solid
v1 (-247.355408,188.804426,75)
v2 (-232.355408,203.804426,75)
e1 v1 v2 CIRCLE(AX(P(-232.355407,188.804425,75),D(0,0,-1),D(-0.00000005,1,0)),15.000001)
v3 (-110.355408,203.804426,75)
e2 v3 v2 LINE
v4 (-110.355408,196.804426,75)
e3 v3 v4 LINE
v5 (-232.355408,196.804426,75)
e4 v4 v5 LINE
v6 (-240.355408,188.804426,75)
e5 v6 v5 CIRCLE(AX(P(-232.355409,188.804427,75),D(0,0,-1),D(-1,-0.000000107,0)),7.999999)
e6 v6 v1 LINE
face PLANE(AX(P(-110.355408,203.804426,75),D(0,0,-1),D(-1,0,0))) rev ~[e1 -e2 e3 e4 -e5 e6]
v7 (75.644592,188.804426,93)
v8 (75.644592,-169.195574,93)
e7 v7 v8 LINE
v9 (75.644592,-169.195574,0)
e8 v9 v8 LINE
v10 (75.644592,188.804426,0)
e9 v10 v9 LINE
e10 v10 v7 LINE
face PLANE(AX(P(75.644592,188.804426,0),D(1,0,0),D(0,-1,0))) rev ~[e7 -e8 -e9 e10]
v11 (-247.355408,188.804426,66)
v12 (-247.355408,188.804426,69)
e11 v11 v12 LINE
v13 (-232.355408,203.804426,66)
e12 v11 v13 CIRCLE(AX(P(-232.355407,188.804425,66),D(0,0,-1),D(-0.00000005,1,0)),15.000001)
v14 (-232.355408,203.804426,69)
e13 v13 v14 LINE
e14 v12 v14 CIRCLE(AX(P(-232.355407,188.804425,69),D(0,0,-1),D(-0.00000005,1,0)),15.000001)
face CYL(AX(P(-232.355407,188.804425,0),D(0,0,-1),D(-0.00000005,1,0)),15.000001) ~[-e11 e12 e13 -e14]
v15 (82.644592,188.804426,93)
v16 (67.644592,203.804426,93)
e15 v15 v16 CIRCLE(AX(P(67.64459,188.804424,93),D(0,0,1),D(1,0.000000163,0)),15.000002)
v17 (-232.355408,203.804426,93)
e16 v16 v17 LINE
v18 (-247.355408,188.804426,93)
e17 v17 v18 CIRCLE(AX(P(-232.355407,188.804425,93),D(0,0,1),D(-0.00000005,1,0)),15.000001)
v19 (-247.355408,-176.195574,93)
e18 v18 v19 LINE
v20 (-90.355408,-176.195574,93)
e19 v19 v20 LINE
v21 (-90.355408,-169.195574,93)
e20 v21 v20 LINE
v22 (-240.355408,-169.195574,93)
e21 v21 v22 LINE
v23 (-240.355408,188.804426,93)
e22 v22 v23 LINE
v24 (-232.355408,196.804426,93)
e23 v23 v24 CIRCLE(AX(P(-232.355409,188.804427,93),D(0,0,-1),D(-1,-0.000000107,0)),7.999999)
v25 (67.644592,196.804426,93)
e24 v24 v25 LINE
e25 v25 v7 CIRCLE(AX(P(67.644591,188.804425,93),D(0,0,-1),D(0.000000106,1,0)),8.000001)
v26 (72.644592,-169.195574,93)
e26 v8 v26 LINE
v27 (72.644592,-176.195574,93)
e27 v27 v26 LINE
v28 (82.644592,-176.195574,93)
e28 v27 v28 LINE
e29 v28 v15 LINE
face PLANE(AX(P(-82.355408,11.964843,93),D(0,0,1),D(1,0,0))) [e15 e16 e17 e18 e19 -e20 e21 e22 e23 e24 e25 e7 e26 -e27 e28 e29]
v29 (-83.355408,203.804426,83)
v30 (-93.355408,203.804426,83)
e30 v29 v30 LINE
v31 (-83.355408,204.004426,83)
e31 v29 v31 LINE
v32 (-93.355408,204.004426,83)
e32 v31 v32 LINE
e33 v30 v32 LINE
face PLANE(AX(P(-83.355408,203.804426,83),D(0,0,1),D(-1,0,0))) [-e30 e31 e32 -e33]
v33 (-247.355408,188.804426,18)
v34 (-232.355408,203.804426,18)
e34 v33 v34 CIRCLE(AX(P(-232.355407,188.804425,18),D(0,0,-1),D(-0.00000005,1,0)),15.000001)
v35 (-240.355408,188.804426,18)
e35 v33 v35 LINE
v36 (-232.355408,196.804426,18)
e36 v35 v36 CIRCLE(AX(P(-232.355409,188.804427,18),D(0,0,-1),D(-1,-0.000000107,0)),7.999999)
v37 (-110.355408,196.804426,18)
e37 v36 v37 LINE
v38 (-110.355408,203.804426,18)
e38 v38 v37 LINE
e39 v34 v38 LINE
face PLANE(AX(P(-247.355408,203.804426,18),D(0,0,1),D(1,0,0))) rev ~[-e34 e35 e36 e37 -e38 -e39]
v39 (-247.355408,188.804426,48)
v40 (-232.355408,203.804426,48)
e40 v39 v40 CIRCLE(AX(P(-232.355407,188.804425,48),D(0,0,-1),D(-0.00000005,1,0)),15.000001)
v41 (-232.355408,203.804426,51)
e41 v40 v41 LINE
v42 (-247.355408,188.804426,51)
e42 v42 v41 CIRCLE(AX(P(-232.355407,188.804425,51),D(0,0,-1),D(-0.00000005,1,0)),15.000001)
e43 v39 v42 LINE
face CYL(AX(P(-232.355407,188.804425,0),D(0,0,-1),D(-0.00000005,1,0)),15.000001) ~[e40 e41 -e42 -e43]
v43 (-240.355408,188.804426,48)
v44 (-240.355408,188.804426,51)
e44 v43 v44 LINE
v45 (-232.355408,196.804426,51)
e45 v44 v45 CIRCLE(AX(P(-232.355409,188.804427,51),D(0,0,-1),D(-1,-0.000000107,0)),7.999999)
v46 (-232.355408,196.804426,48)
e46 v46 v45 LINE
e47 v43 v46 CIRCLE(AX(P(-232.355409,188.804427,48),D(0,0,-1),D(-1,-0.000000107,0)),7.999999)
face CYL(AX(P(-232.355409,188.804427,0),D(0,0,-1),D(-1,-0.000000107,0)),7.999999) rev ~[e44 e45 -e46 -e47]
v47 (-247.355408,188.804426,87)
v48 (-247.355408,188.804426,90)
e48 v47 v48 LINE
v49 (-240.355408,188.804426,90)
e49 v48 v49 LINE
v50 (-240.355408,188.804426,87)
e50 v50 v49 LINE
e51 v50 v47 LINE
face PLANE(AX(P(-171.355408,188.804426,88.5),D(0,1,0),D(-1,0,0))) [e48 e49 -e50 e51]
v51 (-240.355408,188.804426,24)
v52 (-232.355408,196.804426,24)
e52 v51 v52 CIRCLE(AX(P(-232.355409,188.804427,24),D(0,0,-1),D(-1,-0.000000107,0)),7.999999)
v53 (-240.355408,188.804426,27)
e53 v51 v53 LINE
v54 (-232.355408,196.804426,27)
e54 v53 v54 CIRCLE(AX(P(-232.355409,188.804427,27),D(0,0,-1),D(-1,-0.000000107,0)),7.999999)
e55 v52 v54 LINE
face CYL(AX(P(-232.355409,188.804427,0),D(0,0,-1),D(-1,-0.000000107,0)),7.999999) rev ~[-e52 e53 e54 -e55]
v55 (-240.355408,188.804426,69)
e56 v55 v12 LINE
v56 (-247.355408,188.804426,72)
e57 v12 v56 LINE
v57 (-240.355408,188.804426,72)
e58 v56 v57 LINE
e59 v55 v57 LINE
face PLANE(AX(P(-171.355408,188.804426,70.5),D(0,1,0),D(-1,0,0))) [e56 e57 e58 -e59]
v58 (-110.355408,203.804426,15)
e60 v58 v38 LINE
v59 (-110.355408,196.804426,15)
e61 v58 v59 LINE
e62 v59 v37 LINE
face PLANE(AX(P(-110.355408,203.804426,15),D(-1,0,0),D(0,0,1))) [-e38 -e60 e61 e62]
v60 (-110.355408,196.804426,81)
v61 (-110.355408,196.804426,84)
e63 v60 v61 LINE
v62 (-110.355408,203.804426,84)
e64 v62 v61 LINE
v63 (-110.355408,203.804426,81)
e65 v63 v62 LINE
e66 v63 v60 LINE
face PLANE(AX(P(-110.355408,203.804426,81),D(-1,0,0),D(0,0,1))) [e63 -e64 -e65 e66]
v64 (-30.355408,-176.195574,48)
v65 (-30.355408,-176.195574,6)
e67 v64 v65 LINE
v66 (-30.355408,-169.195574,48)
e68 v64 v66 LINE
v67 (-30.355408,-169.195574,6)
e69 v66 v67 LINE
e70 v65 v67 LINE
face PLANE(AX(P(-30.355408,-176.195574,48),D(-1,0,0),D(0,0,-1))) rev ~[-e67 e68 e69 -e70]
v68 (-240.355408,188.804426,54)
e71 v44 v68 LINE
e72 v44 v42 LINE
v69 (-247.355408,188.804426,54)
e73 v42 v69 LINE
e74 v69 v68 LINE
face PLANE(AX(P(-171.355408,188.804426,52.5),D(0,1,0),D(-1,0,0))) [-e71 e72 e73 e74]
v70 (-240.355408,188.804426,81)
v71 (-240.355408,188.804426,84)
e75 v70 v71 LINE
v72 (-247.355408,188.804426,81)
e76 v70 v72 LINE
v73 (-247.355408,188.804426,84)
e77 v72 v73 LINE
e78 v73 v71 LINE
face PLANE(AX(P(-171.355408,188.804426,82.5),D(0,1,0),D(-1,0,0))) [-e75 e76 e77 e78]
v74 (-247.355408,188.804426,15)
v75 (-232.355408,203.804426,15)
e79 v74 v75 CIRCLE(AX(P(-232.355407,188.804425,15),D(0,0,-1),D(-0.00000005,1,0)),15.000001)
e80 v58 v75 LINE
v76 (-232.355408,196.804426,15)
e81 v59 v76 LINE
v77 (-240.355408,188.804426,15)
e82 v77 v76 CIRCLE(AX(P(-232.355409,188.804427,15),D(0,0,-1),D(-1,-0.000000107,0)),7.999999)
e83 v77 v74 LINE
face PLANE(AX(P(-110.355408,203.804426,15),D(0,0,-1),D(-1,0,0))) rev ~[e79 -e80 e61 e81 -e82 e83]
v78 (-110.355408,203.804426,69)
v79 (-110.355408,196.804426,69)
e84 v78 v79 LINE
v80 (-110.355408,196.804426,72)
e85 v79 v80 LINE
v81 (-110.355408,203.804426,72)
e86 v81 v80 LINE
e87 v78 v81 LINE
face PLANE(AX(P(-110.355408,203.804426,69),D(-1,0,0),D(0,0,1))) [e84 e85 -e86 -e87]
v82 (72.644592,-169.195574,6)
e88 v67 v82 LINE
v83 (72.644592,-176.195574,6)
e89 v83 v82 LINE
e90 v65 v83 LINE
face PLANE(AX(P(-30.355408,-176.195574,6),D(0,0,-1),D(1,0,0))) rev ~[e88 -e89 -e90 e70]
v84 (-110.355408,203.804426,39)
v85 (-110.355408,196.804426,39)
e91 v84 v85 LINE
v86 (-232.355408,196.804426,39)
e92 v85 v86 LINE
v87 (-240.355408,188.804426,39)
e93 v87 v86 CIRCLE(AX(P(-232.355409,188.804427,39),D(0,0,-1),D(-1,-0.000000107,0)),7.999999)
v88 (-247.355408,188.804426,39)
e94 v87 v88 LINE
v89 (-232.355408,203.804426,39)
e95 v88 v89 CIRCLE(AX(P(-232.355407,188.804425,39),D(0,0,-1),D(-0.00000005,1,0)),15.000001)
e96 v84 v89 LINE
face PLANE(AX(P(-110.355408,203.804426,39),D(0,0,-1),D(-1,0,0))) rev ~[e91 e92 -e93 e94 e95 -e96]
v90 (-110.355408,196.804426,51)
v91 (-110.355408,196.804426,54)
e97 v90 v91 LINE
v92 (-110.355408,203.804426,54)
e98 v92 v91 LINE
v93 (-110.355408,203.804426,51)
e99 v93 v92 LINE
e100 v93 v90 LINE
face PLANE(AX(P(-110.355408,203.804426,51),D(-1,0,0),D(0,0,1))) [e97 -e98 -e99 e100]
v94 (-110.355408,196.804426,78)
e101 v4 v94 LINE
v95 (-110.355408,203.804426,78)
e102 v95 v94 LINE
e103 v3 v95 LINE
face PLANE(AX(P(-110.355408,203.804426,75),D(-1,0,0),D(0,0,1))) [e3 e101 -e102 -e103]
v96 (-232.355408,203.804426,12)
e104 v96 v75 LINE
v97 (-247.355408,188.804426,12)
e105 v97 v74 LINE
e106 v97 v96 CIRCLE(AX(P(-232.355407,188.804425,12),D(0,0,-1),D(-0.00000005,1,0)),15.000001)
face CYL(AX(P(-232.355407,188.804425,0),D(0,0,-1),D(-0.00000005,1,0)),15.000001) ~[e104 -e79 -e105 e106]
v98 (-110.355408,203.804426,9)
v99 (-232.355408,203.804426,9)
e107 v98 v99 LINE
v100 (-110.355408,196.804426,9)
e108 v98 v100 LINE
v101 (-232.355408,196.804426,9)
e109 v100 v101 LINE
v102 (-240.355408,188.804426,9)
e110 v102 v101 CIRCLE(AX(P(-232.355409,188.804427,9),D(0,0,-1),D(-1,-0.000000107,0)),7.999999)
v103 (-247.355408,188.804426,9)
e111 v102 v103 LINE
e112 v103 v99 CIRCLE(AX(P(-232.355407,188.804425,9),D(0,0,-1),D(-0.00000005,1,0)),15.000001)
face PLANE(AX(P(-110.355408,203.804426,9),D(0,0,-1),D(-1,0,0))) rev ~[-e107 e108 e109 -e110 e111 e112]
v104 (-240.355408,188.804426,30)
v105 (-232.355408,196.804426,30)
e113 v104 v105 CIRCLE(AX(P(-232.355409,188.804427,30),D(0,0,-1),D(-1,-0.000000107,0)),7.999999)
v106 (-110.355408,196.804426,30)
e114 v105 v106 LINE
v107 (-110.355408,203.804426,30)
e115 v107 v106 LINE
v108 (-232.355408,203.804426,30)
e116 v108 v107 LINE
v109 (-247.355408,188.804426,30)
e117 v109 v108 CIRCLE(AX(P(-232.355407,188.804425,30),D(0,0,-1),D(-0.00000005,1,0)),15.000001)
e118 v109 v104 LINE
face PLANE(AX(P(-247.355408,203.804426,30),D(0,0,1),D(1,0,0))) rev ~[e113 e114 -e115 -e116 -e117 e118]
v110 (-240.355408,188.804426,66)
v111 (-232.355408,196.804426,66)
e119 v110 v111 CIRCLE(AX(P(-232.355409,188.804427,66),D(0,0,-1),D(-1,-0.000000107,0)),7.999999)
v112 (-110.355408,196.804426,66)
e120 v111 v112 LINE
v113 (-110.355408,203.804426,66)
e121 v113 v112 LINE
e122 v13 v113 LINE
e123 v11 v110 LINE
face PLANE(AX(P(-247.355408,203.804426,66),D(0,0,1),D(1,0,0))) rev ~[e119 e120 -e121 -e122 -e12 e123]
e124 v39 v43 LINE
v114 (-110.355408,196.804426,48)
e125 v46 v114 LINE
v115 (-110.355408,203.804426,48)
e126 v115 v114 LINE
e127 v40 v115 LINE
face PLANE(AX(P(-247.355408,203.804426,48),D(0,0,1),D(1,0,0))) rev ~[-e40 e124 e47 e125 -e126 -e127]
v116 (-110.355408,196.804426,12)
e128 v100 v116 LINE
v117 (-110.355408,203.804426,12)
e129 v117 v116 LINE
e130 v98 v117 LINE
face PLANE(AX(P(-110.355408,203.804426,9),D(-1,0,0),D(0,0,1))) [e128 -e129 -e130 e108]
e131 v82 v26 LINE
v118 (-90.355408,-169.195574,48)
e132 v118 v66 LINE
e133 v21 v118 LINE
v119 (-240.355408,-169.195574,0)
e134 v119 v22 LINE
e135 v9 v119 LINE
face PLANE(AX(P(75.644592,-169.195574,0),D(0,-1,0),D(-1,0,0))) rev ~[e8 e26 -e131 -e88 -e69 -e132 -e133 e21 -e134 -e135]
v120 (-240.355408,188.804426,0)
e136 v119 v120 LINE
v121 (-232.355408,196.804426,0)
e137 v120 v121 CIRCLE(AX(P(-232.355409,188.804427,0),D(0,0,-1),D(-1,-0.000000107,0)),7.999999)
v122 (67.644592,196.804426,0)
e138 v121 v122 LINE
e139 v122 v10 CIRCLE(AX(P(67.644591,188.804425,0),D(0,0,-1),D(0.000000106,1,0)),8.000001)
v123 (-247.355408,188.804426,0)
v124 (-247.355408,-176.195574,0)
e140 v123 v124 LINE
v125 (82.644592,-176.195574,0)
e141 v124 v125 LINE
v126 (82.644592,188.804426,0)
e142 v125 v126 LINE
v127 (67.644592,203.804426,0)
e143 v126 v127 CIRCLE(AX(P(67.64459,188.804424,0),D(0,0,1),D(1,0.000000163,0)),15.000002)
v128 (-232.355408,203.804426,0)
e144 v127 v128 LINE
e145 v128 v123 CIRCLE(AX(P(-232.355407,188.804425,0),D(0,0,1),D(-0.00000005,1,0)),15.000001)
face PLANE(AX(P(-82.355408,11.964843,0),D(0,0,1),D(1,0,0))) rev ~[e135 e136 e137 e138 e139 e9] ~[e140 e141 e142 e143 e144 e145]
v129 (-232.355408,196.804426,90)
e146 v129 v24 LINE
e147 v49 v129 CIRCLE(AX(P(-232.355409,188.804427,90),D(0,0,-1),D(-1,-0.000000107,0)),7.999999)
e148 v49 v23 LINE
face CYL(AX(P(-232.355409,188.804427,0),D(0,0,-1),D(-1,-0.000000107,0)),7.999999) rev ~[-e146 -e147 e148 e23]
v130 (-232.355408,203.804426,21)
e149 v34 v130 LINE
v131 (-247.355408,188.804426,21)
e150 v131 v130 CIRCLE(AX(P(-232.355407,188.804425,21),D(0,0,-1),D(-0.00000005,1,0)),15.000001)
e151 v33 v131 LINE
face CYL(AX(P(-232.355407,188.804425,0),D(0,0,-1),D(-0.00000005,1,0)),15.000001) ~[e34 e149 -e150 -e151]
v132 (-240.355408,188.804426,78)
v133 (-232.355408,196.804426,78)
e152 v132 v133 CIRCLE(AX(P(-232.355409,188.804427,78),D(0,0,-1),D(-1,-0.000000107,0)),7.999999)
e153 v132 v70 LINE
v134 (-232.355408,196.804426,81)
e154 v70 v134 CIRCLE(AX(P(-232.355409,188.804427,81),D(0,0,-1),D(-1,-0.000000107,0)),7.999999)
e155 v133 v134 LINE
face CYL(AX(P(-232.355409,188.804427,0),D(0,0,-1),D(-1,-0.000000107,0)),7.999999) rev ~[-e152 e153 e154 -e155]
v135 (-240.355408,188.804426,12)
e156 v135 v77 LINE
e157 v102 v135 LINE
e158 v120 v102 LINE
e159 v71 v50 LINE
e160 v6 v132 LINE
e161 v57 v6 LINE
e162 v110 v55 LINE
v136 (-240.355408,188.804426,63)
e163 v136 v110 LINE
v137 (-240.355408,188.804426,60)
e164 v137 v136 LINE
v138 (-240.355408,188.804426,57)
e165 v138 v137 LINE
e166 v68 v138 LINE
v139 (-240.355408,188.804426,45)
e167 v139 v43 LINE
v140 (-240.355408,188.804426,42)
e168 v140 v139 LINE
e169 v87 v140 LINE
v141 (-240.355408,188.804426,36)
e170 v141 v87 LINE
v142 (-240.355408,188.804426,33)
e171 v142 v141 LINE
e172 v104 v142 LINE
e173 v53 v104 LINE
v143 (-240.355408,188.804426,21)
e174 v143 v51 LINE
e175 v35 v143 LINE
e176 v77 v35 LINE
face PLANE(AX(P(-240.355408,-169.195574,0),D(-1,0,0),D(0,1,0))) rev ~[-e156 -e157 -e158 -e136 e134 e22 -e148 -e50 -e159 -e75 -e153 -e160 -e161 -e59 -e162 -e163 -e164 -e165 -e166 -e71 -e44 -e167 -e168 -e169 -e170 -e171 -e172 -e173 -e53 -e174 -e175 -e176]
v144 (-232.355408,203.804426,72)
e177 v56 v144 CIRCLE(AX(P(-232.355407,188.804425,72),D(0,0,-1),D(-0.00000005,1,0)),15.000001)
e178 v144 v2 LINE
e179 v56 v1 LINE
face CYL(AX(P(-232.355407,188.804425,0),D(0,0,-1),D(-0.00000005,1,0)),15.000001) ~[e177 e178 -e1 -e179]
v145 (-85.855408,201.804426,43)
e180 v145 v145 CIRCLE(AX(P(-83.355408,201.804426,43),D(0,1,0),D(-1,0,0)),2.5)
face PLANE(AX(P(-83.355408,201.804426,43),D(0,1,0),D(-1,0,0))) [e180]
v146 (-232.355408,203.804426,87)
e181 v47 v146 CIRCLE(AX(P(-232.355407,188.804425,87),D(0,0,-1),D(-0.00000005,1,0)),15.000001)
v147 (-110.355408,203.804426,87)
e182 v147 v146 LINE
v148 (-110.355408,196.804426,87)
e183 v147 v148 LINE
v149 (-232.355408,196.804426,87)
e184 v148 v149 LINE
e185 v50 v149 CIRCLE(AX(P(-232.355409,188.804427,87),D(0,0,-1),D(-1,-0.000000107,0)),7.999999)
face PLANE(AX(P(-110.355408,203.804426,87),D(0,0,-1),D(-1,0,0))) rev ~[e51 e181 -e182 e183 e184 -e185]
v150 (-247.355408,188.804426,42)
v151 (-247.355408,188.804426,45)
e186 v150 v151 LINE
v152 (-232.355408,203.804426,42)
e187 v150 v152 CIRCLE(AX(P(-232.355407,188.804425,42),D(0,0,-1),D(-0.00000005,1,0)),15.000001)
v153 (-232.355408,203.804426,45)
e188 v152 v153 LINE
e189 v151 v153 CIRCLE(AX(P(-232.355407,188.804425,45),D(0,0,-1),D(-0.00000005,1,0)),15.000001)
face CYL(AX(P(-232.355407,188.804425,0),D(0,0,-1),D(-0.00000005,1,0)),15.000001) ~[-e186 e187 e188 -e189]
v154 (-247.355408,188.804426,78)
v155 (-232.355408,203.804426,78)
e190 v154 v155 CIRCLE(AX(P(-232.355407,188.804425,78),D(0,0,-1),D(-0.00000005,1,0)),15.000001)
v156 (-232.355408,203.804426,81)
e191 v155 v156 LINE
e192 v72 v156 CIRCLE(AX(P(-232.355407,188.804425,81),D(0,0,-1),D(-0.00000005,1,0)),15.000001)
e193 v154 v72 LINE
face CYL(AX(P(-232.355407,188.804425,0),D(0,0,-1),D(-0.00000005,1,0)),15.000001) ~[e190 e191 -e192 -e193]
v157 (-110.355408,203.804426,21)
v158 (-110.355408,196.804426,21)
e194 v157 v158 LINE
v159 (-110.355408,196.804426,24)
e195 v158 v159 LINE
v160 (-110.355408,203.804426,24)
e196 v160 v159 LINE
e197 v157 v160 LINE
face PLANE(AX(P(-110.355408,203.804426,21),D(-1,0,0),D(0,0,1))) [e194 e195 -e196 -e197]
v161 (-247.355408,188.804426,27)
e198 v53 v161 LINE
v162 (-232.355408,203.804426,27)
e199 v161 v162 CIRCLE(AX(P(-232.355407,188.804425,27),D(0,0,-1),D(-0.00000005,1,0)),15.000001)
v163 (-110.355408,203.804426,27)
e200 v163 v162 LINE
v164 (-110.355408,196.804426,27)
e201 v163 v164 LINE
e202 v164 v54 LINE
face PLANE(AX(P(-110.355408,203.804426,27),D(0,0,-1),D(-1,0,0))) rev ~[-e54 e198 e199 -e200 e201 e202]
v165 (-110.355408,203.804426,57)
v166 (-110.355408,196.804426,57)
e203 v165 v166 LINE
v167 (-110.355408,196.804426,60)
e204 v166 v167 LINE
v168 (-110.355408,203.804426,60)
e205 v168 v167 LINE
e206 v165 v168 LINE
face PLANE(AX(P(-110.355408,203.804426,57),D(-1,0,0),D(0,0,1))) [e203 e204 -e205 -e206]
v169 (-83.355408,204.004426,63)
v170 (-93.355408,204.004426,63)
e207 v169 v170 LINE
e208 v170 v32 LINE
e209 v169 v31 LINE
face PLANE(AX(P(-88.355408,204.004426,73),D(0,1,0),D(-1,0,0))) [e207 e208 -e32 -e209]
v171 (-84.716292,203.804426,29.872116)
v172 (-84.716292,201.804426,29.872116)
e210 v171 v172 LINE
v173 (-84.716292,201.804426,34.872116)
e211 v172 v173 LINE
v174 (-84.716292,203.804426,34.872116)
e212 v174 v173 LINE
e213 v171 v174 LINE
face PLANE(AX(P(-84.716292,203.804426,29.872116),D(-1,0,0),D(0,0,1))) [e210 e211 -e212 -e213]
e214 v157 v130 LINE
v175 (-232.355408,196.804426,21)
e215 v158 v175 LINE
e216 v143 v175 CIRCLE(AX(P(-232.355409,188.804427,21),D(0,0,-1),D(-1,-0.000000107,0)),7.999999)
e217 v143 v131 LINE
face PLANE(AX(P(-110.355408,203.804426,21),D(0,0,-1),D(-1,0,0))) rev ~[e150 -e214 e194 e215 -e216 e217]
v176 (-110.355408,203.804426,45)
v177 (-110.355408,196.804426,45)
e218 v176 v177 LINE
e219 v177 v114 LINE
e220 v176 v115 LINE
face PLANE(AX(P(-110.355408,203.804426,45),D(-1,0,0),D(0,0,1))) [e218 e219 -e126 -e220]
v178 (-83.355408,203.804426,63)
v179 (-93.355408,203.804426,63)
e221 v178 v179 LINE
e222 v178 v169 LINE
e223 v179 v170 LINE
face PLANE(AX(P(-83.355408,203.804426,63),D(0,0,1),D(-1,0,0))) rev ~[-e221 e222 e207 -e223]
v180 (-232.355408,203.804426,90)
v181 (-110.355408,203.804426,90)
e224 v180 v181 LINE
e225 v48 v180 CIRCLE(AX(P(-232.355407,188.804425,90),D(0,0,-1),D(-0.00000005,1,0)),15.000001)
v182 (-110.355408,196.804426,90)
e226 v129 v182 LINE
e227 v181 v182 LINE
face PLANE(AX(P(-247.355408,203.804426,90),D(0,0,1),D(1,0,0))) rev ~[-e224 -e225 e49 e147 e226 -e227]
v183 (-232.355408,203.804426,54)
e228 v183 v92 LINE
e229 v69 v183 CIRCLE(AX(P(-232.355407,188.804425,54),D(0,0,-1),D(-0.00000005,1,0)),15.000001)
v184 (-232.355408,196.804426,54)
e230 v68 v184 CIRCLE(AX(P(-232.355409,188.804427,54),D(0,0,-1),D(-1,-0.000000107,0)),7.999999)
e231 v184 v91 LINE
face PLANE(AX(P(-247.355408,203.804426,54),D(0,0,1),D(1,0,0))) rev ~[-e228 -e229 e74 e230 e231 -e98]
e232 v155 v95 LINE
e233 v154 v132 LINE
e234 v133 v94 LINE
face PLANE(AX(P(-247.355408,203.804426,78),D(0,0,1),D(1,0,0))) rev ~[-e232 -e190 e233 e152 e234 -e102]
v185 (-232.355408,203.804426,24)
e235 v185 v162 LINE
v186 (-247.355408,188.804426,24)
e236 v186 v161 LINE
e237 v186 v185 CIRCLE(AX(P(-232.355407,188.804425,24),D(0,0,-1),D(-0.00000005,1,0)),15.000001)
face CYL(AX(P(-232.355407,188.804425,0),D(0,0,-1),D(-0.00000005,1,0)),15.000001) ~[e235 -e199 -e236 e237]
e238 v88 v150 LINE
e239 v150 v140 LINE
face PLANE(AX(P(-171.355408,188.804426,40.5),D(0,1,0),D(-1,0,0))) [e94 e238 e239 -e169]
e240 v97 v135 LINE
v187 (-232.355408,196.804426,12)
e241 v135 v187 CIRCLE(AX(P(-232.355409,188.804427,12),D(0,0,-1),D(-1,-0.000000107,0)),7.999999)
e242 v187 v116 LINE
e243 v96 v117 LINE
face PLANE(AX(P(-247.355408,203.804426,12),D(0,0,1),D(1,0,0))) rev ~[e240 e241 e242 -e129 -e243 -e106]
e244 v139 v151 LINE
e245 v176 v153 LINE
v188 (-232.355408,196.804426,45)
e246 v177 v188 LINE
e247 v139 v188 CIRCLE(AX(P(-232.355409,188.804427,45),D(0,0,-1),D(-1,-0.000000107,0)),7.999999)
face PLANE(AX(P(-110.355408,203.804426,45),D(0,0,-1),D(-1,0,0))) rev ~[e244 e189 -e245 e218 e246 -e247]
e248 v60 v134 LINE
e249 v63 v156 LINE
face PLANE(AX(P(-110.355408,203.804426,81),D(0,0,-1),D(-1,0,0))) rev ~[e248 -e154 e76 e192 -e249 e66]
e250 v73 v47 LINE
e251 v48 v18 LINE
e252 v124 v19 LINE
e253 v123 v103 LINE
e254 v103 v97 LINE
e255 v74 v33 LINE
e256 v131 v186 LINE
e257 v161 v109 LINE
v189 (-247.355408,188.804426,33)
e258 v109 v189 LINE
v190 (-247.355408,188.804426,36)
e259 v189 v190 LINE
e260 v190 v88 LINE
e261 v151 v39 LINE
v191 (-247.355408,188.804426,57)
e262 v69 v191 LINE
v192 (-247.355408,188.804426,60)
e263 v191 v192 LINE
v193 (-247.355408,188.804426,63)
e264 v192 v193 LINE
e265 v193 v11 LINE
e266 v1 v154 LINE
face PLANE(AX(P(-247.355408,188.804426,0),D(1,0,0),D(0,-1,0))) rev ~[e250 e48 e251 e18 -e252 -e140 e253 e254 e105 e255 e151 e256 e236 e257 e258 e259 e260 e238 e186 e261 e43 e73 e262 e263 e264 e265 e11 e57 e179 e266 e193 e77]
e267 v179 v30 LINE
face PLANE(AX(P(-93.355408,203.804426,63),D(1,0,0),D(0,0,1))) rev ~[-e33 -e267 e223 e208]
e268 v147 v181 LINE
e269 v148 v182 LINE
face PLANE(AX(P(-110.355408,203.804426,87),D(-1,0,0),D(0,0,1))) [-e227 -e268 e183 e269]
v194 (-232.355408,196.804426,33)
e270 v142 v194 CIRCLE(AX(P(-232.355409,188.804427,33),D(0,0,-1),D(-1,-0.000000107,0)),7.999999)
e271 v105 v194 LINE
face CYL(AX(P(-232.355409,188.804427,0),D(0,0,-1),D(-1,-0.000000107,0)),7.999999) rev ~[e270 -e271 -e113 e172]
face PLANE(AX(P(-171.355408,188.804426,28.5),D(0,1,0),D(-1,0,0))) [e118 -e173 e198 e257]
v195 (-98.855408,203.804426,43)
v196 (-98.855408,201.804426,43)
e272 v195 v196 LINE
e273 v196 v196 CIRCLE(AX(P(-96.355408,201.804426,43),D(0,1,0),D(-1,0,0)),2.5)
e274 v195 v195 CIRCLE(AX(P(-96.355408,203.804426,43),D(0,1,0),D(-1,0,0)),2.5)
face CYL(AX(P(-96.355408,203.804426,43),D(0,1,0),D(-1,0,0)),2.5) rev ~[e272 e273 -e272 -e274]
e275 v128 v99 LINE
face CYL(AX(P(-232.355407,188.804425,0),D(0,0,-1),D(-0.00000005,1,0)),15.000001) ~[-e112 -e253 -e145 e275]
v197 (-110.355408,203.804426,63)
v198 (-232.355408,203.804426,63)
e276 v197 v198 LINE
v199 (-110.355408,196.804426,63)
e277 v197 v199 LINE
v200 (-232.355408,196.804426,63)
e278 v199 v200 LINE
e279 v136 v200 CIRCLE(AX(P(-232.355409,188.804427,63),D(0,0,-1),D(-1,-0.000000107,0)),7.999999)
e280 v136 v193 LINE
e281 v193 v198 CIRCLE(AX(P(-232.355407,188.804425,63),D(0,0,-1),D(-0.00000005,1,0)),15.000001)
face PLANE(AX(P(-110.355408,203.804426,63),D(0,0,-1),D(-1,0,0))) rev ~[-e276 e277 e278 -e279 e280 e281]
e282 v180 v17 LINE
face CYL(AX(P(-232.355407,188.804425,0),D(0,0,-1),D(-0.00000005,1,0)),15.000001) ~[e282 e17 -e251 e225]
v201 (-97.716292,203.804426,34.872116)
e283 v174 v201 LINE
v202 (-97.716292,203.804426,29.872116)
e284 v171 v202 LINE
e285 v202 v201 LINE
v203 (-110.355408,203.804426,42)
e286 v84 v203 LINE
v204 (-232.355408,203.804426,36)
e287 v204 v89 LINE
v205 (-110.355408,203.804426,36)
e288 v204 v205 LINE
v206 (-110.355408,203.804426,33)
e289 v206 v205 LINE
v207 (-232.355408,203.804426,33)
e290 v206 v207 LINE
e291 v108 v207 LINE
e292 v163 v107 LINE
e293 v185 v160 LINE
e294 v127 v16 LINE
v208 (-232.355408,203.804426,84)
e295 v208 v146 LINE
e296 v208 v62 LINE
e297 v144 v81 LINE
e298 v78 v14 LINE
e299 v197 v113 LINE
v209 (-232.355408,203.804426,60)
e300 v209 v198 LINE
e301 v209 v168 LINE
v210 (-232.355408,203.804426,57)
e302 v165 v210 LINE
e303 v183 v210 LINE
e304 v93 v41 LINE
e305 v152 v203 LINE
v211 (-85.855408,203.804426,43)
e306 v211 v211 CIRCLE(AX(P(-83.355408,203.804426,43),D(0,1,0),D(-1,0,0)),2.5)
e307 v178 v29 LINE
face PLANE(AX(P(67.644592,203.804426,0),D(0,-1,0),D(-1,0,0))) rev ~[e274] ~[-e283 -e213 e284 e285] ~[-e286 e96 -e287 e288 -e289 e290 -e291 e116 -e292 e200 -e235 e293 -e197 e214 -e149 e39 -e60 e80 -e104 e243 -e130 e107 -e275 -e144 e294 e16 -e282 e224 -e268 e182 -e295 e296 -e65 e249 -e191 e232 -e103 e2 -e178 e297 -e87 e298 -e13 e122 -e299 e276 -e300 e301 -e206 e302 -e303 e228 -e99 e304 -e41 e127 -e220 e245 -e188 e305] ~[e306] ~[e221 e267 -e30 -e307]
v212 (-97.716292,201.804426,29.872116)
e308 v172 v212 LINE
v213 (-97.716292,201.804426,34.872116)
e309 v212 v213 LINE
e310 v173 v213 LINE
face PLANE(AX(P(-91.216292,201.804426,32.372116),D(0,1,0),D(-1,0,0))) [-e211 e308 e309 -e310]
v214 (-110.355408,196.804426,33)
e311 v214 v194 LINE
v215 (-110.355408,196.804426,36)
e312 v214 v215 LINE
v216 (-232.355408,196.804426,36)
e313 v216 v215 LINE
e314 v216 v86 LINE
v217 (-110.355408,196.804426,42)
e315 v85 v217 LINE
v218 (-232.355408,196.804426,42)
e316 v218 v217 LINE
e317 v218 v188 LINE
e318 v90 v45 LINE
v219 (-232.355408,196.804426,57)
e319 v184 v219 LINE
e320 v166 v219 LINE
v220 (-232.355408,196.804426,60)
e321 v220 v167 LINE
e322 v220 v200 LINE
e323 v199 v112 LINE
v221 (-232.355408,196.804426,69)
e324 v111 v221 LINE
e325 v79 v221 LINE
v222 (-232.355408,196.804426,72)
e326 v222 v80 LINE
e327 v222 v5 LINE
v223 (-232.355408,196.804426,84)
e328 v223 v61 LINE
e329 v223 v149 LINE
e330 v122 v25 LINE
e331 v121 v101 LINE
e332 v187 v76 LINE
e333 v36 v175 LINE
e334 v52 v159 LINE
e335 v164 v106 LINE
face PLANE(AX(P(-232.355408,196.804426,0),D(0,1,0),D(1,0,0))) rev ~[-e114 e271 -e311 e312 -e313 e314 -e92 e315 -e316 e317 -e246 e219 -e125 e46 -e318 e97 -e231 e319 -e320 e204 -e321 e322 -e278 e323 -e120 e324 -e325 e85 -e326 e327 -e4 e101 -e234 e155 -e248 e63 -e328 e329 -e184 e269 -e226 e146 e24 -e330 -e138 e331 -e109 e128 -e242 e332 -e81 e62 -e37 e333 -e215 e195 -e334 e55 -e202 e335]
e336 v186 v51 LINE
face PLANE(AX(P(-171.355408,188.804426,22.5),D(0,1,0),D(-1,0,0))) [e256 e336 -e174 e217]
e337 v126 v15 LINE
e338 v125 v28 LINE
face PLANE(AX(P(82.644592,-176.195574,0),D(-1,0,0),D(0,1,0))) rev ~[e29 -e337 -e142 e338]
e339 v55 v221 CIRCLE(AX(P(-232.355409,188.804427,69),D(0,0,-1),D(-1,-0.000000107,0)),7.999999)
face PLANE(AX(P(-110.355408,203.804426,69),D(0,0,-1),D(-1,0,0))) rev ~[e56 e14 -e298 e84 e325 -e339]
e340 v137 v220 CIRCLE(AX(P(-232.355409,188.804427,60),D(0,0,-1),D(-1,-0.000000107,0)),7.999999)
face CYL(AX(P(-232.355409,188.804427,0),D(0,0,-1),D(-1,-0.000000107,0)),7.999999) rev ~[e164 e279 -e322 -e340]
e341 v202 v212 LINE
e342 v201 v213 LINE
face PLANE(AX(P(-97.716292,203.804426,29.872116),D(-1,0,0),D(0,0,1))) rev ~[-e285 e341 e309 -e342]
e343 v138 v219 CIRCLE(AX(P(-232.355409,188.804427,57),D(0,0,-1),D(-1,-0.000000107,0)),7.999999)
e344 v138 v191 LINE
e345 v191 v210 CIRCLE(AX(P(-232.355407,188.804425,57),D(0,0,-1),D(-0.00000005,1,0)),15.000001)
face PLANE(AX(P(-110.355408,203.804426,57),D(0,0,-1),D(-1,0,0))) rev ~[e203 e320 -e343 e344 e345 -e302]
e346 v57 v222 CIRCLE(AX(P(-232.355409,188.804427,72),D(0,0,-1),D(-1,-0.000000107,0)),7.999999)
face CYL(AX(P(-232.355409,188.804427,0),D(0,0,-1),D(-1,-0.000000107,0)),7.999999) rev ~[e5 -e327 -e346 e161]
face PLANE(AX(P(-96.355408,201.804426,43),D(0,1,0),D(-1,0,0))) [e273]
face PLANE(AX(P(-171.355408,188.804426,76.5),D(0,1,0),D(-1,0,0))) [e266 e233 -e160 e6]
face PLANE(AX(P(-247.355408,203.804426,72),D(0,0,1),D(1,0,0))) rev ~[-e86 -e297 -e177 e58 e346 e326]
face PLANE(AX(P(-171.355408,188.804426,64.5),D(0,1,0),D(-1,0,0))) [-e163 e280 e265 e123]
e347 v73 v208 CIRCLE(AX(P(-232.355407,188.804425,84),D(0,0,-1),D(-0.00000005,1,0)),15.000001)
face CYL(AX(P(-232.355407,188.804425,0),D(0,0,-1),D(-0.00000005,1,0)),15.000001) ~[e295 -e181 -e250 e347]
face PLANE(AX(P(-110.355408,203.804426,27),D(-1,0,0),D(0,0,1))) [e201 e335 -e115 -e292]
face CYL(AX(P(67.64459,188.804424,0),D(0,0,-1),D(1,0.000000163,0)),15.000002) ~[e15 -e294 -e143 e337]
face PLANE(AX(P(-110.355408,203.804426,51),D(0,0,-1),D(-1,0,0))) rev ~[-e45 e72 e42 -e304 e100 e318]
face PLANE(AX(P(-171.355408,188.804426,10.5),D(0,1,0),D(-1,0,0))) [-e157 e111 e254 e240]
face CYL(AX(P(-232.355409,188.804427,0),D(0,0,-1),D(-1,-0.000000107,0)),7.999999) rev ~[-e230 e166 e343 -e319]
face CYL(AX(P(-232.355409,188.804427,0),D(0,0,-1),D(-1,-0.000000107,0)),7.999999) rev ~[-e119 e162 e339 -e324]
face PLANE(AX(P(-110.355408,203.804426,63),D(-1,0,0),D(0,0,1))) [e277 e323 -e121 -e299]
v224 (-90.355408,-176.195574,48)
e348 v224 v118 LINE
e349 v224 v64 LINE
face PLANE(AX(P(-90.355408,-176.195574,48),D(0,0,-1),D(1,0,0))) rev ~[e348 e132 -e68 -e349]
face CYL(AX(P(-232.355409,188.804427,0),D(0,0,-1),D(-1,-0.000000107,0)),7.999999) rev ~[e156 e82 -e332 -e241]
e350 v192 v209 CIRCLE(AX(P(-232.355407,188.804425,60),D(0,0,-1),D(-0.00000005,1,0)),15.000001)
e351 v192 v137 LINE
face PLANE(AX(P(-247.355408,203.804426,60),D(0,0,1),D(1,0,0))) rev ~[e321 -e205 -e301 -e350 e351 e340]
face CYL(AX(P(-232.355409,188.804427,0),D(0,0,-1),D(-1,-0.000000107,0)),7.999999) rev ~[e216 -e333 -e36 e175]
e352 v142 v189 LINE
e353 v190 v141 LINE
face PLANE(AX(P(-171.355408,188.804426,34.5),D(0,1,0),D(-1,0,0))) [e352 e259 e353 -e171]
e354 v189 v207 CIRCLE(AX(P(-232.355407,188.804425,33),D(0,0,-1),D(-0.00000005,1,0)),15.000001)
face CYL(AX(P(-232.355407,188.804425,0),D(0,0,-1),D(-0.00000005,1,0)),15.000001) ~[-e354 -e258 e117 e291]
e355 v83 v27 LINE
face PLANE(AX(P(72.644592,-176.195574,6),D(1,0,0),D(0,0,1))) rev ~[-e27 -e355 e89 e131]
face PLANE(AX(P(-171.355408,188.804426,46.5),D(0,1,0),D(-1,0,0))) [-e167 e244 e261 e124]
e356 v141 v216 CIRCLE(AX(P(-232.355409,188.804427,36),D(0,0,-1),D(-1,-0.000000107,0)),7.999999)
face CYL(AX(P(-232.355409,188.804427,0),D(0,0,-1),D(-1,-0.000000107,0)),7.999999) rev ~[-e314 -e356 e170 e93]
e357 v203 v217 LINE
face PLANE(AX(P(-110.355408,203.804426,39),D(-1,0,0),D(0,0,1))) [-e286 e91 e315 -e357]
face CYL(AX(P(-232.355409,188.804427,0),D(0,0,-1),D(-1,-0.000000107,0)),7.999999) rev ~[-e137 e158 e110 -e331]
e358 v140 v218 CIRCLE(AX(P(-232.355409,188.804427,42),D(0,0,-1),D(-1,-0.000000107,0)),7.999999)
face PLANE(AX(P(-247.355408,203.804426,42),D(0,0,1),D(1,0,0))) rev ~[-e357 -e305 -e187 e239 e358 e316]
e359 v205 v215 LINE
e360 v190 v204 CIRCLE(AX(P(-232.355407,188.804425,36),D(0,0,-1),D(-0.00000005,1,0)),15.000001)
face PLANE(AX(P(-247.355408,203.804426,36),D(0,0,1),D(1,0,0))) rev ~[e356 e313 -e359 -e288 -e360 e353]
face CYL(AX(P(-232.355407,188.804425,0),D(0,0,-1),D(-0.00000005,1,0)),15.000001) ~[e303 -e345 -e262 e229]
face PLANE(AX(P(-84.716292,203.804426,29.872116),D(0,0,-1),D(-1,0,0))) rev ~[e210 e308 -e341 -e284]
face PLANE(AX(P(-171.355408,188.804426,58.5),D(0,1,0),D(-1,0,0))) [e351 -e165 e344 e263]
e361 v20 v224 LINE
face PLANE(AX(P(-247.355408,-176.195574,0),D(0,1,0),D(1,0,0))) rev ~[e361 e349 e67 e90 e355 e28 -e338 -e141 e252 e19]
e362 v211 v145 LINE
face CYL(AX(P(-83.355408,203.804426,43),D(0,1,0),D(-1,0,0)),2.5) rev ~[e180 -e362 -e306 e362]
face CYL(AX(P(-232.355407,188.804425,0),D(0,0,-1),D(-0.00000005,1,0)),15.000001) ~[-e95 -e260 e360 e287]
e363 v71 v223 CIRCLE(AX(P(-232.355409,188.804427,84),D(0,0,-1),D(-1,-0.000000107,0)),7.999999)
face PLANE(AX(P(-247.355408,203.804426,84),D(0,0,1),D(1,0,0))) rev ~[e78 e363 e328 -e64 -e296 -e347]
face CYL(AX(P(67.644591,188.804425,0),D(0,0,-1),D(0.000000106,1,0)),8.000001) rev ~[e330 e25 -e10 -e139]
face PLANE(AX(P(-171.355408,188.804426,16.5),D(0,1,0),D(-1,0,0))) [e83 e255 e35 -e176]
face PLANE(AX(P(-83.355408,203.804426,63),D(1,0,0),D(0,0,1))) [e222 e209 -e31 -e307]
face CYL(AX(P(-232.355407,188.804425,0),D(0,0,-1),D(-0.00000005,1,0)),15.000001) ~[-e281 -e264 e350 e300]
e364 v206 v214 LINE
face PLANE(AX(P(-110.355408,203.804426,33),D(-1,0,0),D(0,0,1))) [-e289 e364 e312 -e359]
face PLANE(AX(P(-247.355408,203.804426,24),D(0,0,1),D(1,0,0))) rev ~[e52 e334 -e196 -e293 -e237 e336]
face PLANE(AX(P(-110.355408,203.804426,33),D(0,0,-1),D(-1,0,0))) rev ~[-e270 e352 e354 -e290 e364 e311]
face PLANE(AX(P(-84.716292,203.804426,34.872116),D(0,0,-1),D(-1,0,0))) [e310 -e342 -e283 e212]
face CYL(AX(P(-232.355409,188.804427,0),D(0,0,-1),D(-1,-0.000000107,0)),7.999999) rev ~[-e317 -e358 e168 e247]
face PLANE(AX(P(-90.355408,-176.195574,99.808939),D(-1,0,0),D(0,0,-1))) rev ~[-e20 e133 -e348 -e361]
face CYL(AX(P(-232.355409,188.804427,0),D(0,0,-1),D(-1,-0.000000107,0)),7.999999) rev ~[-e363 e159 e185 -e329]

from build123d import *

# Parameters (mm, degrees)
F1_DEPTH  = 93
F3_DEPTH  = 25
F4_W      = 122
F4_H      = 3
F4_W_2    = 15
F5_DEPTH  = 15
F6_DEPTH  = 15
F7_DEPTH  = 15
F8_DEPTH  = 15
F9_DEPTH  = 15
F10_DEPTH = 15
F11_DEPTH = 15
F12_DEPTH = 15
F13_DEPTH = 15
F14_DEPTH = 15
F15_DEPTH = 15
F16_DEPTH = 15
F17_DEPTH = 15
F18_DEPTH = 15
F19_W     = 10
F19_H     = 20
F20_DEPTH = 0.2
F21_R     = 2.5
F22_DEPTH = 2
F23_DEPTH = 2
F24_W     = 13
F24_H     = 5
F25_DEPTH = 2


with BuildPart() as f1:
    # F0 (on Top) → F1 (new body)
    with BuildSketch(Plane.XY):
        with BuildLine():
            Line((67.644592, 203.804426), (-232.355408, 203.804426))
            ThreePointArc((-232.355408, 203.804426), (-242.96201, 199.411027), (-247.355408, 188.804426))
            Line((-247.355408, 188.804426), (-247.355408, -176.195574))
            Line((-247.355408, -176.195574), (82.644592, -176.195574))
            Line((82.644592, -176.195574), (82.644592, 188.804426))
            ThreePointArc((82.644592, 188.804426), (78.251193, 199.411027), (67.644592, 203.804426))
        make_face()
        with BuildLine():
            ThreePointArc((-240.355408, 188.804426), (-238.012263, 194.46128), (-232.355408, 196.804426))
            Line((-232.355408, 196.804426), (67.644592, 196.804426))
            ThreePointArc((67.644592, 196.804426), (73.301446, 194.46128), (75.644592, 188.804426))
            Line((75.644592, 188.804426), (75.644592, -169.195574))
            Line((75.644592, -169.195574), (-240.355408, -169.195574))
            Line((-240.355408, -169.195574), (-240.355408, 188.804426))
        make_face(mode=Mode.SUBTRACT)
    extrude(amount=F1_DEPTH)

    # F2 (on face) → F3 (cut)
    with BuildSketch(Plane.XZ.offset(176.195574)):
        Polygon((-30.355408, 6), (72.644592, 6), (72.644592, 100.520082), (-30.355408, 100.520082), (-30.355408, 48), align=None)
        Polygon((-90.355408, 48), (-30.355408, 48), (-30.355408, 100.520082), (-90.355408, 99.808939), align=None)
    extrude(amount=-F3_DEPTH, mode=Mode.SUBTRACT)

    # F4 (on face) → F5 (cut)
    with BuildSketch(Plane(origin=(0, 203.804426, 0), x_dir=(-1, 0, 0), z_dir=(0, 1, 0))):
        with Locations((171.355408, 88.5)):
            Rectangle(F4_W, F4_H)
        with Locations((239.855408, 88.5)):
            Rectangle(F4_W_2, F4_H)
    extrude(amount=-F5_DEPTH, mode=Mode.SUBTRACT)

    # F4 (on face) → F6 (cut)
    with BuildSketch(Plane(origin=(0, 203.804426, 0), x_dir=(-1, 0, 0), z_dir=(0, 1, 0))):
        with Locations((171.355408, 82.5)):
            Rectangle(F4_W, F4_H)
        with Locations((239.855408, 82.5)):
            Rectangle(F4_W_2, F4_H)
    extrude(amount=-F6_DEPTH, mode=Mode.SUBTRACT)

    # F4 (on face) → F7 (cut)
    with BuildSketch(Plane(origin=(0, 203.804426, 0), x_dir=(-1, 0, 0), z_dir=(0, 1, 0))):
        with Locations((171.355408, 76.5)):
            Rectangle(F4_W, F4_H)
        with Locations((239.855408, 76.5)):
            Rectangle(F4_W_2, F4_H)
    extrude(amount=-F7_DEPTH, mode=Mode.SUBTRACT)

    # F4 (on face) → F8 (cut)
    with BuildSketch(Plane(origin=(0, 203.804426, 0), x_dir=(-1, 0, 0), z_dir=(0, 1, 0))):
        with Locations((171.355408, 70.5)):
            Rectangle(F4_W, F4_H)
        with Locations((239.855408, 70.5)):
            Rectangle(F4_W_2, F4_H)
    extrude(amount=-F8_DEPTH, mode=Mode.SUBTRACT)

    # F4 (on face) → F9 (cut)
    with BuildSketch(Plane(origin=(0, 203.804426, 0), x_dir=(-1, 0, 0), z_dir=(0, 1, 0))):
        with Locations((171.355408, 64.5)):
            Rectangle(F4_W, F4_H)
        with Locations((239.855408, 64.5)):
            Rectangle(F4_W_2, F4_H)
    extrude(amount=-F9_DEPTH, mode=Mode.SUBTRACT)

    # F4 (on face) → F10 (cut)
    with BuildSketch(Plane(origin=(0, 203.804426, 0), x_dir=(-1, 0, 0), z_dir=(0, 1, 0))):
        with Locations((171.355408, 58.5)):
            Rectangle(F4_W, F4_H)
        with Locations((239.855408, 58.5)):
            Rectangle(F4_W_2, F4_H)
    extrude(amount=-F10_DEPTH, mode=Mode.SUBTRACT)

    # F4 (on face) → F11 (cut)
    with BuildSketch(Plane(origin=(0, 203.804426, 0), x_dir=(-1, 0, 0), z_dir=(0, 1, 0))):
        with Locations((171.355408, 52.5)):
            Rectangle(F4_W, F4_H)
        with Locations((239.855408, 52.5)):
            Rectangle(F4_W_2, F4_H)
    extrude(amount=-F11_DEPTH, mode=Mode.SUBTRACT)

    # F4 (on face) → F12 (cut)
    with BuildSketch(Plane(origin=(0, 203.804426, 0), x_dir=(-1, 0, 0), z_dir=(0, 1, 0))):
        with Locations((171.355408, 46.5)):
            Rectangle(F4_W, F4_H)
        with Locations((239.855408, 46.5)):
            Rectangle(F4_W_2, F4_H)
    extrude(amount=-F12_DEPTH, mode=Mode.SUBTRACT)

    # F4 (on face) → F13 (cut)
    with BuildSketch(Plane(origin=(0, 203.804426, 0), x_dir=(-1, 0, 0), z_dir=(0, 1, 0))):
        with Locations((171.355408, 40.5)):
            Rectangle(F4_W, F4_H)
        with Locations((239.855408, 40.5)):
            Rectangle(F4_W_2, F4_H)
    extrude(amount=-F13_DEPTH, mode=Mode.SUBTRACT)

    # F4 (on face) → F14 (cut)
    with BuildSketch(Plane(origin=(0, 203.804426, 0), x_dir=(-1, 0, 0), z_dir=(0, 1, 0))):
        with Locations((171.355408, 34.5)):
            Rectangle(F4_W, F4_H)
        with Locations((239.855408, 34.5)):
            Rectangle(F4_W_2, F4_H)
    extrude(amount=-F14_DEPTH, mode=Mode.SUBTRACT)

    # F4 (on face) → F15 (cut)
    with BuildSketch(Plane(origin=(0, 203.804426, 0), x_dir=(-1, 0, 0), z_dir=(0, 1, 0))):
        with Locations((171.355408, 28.5)):
            Rectangle(F4_W, F4_H)
        with Locations((239.855408, 28.5)):
            Rectangle(F4_W_2, F4_H)
    extrude(amount=-F15_DEPTH, mode=Mode.SUBTRACT)

    # F4 (on face) → F16 (cut)
    with BuildSketch(Plane(origin=(0, 203.804426, 0), x_dir=(-1, 0, 0), z_dir=(0, 1, 0))):
        with Locations((171.355408, 22.5)):
            Rectangle(F4_W, F4_H)
        with Locations((239.855408, 22.5)):
            Rectangle(F4_W_2, F4_H)
    extrude(amount=-F16_DEPTH, mode=Mode.SUBTRACT)

    # F4 (on face) → F17 (cut)
    with BuildSketch(Plane(origin=(0, 203.804426, 0), x_dir=(-1, 0, 0), z_dir=(0, 1, 0))):
        with Locations((171.355408, 16.5)):
            Rectangle(F4_W, F4_H)
        with Locations((239.855408, 16.5)):
            Rectangle(F4_W_2, F4_H)
    extrude(amount=-F17_DEPTH, mode=Mode.SUBTRACT)

    # F4 (on face) → F18 (cut)
    with BuildSketch(Plane(origin=(0, 203.804426, 0), x_dir=(-1, 0, 0), z_dir=(0, 1, 0))):
        with Locations((171.355408, 10.5)):
            Rectangle(F4_W, F4_H)
        with Locations((239.855408, 10.5)):
            Rectangle(F4_W_2, F4_H)
    extrude(amount=-F18_DEPTH, mode=Mode.SUBTRACT)

    # F19 (on face) → F20 (join)
    with BuildSketch(Plane(origin=(0, 203.804426, 0), x_dir=(-1, 0, 0), z_dir=(0, 1, 0))):
        with Locations((88.355408, 73)):
            Rectangle(F19_W, F19_H)
    extrude(amount=F20_DEPTH)

    # F21 (on face) → F22 (cut)
    with BuildSketch(Plane(origin=(0, 203.804426, 0), x_dir=(-1, 0, 0), z_dir=(0, 1, 0))):
        with Locations((83.355408, 43)):
            Circle(F21_R)
    extrude(amount=-F22_DEPTH, mode=Mode.SUBTRACT)

    # F21 (on face) → F23 (cut)
    with BuildSketch(Plane(origin=(0, 203.804426, 0), x_dir=(-1, 0, 0), z_dir=(0, 1, 0))):
        with Locations((96.355408, 43)):
            Circle(F21_R)
    extrude(amount=-F23_DEPTH, mode=Mode.SUBTRACT)

    # F24 (on face) → F25 (cut)
    with BuildSketch(Plane(origin=(0, 203.804426, 0), x_dir=(-1, 0, 0), z_dir=(0, 1, 0))):
        with Locations((91.216292, 32.372116)):
            Rectangle(F24_W, F24_H)
    extrude(amount=-F25_DEPTH, mode=Mode.SUBTRACT)


solid = f1.part
